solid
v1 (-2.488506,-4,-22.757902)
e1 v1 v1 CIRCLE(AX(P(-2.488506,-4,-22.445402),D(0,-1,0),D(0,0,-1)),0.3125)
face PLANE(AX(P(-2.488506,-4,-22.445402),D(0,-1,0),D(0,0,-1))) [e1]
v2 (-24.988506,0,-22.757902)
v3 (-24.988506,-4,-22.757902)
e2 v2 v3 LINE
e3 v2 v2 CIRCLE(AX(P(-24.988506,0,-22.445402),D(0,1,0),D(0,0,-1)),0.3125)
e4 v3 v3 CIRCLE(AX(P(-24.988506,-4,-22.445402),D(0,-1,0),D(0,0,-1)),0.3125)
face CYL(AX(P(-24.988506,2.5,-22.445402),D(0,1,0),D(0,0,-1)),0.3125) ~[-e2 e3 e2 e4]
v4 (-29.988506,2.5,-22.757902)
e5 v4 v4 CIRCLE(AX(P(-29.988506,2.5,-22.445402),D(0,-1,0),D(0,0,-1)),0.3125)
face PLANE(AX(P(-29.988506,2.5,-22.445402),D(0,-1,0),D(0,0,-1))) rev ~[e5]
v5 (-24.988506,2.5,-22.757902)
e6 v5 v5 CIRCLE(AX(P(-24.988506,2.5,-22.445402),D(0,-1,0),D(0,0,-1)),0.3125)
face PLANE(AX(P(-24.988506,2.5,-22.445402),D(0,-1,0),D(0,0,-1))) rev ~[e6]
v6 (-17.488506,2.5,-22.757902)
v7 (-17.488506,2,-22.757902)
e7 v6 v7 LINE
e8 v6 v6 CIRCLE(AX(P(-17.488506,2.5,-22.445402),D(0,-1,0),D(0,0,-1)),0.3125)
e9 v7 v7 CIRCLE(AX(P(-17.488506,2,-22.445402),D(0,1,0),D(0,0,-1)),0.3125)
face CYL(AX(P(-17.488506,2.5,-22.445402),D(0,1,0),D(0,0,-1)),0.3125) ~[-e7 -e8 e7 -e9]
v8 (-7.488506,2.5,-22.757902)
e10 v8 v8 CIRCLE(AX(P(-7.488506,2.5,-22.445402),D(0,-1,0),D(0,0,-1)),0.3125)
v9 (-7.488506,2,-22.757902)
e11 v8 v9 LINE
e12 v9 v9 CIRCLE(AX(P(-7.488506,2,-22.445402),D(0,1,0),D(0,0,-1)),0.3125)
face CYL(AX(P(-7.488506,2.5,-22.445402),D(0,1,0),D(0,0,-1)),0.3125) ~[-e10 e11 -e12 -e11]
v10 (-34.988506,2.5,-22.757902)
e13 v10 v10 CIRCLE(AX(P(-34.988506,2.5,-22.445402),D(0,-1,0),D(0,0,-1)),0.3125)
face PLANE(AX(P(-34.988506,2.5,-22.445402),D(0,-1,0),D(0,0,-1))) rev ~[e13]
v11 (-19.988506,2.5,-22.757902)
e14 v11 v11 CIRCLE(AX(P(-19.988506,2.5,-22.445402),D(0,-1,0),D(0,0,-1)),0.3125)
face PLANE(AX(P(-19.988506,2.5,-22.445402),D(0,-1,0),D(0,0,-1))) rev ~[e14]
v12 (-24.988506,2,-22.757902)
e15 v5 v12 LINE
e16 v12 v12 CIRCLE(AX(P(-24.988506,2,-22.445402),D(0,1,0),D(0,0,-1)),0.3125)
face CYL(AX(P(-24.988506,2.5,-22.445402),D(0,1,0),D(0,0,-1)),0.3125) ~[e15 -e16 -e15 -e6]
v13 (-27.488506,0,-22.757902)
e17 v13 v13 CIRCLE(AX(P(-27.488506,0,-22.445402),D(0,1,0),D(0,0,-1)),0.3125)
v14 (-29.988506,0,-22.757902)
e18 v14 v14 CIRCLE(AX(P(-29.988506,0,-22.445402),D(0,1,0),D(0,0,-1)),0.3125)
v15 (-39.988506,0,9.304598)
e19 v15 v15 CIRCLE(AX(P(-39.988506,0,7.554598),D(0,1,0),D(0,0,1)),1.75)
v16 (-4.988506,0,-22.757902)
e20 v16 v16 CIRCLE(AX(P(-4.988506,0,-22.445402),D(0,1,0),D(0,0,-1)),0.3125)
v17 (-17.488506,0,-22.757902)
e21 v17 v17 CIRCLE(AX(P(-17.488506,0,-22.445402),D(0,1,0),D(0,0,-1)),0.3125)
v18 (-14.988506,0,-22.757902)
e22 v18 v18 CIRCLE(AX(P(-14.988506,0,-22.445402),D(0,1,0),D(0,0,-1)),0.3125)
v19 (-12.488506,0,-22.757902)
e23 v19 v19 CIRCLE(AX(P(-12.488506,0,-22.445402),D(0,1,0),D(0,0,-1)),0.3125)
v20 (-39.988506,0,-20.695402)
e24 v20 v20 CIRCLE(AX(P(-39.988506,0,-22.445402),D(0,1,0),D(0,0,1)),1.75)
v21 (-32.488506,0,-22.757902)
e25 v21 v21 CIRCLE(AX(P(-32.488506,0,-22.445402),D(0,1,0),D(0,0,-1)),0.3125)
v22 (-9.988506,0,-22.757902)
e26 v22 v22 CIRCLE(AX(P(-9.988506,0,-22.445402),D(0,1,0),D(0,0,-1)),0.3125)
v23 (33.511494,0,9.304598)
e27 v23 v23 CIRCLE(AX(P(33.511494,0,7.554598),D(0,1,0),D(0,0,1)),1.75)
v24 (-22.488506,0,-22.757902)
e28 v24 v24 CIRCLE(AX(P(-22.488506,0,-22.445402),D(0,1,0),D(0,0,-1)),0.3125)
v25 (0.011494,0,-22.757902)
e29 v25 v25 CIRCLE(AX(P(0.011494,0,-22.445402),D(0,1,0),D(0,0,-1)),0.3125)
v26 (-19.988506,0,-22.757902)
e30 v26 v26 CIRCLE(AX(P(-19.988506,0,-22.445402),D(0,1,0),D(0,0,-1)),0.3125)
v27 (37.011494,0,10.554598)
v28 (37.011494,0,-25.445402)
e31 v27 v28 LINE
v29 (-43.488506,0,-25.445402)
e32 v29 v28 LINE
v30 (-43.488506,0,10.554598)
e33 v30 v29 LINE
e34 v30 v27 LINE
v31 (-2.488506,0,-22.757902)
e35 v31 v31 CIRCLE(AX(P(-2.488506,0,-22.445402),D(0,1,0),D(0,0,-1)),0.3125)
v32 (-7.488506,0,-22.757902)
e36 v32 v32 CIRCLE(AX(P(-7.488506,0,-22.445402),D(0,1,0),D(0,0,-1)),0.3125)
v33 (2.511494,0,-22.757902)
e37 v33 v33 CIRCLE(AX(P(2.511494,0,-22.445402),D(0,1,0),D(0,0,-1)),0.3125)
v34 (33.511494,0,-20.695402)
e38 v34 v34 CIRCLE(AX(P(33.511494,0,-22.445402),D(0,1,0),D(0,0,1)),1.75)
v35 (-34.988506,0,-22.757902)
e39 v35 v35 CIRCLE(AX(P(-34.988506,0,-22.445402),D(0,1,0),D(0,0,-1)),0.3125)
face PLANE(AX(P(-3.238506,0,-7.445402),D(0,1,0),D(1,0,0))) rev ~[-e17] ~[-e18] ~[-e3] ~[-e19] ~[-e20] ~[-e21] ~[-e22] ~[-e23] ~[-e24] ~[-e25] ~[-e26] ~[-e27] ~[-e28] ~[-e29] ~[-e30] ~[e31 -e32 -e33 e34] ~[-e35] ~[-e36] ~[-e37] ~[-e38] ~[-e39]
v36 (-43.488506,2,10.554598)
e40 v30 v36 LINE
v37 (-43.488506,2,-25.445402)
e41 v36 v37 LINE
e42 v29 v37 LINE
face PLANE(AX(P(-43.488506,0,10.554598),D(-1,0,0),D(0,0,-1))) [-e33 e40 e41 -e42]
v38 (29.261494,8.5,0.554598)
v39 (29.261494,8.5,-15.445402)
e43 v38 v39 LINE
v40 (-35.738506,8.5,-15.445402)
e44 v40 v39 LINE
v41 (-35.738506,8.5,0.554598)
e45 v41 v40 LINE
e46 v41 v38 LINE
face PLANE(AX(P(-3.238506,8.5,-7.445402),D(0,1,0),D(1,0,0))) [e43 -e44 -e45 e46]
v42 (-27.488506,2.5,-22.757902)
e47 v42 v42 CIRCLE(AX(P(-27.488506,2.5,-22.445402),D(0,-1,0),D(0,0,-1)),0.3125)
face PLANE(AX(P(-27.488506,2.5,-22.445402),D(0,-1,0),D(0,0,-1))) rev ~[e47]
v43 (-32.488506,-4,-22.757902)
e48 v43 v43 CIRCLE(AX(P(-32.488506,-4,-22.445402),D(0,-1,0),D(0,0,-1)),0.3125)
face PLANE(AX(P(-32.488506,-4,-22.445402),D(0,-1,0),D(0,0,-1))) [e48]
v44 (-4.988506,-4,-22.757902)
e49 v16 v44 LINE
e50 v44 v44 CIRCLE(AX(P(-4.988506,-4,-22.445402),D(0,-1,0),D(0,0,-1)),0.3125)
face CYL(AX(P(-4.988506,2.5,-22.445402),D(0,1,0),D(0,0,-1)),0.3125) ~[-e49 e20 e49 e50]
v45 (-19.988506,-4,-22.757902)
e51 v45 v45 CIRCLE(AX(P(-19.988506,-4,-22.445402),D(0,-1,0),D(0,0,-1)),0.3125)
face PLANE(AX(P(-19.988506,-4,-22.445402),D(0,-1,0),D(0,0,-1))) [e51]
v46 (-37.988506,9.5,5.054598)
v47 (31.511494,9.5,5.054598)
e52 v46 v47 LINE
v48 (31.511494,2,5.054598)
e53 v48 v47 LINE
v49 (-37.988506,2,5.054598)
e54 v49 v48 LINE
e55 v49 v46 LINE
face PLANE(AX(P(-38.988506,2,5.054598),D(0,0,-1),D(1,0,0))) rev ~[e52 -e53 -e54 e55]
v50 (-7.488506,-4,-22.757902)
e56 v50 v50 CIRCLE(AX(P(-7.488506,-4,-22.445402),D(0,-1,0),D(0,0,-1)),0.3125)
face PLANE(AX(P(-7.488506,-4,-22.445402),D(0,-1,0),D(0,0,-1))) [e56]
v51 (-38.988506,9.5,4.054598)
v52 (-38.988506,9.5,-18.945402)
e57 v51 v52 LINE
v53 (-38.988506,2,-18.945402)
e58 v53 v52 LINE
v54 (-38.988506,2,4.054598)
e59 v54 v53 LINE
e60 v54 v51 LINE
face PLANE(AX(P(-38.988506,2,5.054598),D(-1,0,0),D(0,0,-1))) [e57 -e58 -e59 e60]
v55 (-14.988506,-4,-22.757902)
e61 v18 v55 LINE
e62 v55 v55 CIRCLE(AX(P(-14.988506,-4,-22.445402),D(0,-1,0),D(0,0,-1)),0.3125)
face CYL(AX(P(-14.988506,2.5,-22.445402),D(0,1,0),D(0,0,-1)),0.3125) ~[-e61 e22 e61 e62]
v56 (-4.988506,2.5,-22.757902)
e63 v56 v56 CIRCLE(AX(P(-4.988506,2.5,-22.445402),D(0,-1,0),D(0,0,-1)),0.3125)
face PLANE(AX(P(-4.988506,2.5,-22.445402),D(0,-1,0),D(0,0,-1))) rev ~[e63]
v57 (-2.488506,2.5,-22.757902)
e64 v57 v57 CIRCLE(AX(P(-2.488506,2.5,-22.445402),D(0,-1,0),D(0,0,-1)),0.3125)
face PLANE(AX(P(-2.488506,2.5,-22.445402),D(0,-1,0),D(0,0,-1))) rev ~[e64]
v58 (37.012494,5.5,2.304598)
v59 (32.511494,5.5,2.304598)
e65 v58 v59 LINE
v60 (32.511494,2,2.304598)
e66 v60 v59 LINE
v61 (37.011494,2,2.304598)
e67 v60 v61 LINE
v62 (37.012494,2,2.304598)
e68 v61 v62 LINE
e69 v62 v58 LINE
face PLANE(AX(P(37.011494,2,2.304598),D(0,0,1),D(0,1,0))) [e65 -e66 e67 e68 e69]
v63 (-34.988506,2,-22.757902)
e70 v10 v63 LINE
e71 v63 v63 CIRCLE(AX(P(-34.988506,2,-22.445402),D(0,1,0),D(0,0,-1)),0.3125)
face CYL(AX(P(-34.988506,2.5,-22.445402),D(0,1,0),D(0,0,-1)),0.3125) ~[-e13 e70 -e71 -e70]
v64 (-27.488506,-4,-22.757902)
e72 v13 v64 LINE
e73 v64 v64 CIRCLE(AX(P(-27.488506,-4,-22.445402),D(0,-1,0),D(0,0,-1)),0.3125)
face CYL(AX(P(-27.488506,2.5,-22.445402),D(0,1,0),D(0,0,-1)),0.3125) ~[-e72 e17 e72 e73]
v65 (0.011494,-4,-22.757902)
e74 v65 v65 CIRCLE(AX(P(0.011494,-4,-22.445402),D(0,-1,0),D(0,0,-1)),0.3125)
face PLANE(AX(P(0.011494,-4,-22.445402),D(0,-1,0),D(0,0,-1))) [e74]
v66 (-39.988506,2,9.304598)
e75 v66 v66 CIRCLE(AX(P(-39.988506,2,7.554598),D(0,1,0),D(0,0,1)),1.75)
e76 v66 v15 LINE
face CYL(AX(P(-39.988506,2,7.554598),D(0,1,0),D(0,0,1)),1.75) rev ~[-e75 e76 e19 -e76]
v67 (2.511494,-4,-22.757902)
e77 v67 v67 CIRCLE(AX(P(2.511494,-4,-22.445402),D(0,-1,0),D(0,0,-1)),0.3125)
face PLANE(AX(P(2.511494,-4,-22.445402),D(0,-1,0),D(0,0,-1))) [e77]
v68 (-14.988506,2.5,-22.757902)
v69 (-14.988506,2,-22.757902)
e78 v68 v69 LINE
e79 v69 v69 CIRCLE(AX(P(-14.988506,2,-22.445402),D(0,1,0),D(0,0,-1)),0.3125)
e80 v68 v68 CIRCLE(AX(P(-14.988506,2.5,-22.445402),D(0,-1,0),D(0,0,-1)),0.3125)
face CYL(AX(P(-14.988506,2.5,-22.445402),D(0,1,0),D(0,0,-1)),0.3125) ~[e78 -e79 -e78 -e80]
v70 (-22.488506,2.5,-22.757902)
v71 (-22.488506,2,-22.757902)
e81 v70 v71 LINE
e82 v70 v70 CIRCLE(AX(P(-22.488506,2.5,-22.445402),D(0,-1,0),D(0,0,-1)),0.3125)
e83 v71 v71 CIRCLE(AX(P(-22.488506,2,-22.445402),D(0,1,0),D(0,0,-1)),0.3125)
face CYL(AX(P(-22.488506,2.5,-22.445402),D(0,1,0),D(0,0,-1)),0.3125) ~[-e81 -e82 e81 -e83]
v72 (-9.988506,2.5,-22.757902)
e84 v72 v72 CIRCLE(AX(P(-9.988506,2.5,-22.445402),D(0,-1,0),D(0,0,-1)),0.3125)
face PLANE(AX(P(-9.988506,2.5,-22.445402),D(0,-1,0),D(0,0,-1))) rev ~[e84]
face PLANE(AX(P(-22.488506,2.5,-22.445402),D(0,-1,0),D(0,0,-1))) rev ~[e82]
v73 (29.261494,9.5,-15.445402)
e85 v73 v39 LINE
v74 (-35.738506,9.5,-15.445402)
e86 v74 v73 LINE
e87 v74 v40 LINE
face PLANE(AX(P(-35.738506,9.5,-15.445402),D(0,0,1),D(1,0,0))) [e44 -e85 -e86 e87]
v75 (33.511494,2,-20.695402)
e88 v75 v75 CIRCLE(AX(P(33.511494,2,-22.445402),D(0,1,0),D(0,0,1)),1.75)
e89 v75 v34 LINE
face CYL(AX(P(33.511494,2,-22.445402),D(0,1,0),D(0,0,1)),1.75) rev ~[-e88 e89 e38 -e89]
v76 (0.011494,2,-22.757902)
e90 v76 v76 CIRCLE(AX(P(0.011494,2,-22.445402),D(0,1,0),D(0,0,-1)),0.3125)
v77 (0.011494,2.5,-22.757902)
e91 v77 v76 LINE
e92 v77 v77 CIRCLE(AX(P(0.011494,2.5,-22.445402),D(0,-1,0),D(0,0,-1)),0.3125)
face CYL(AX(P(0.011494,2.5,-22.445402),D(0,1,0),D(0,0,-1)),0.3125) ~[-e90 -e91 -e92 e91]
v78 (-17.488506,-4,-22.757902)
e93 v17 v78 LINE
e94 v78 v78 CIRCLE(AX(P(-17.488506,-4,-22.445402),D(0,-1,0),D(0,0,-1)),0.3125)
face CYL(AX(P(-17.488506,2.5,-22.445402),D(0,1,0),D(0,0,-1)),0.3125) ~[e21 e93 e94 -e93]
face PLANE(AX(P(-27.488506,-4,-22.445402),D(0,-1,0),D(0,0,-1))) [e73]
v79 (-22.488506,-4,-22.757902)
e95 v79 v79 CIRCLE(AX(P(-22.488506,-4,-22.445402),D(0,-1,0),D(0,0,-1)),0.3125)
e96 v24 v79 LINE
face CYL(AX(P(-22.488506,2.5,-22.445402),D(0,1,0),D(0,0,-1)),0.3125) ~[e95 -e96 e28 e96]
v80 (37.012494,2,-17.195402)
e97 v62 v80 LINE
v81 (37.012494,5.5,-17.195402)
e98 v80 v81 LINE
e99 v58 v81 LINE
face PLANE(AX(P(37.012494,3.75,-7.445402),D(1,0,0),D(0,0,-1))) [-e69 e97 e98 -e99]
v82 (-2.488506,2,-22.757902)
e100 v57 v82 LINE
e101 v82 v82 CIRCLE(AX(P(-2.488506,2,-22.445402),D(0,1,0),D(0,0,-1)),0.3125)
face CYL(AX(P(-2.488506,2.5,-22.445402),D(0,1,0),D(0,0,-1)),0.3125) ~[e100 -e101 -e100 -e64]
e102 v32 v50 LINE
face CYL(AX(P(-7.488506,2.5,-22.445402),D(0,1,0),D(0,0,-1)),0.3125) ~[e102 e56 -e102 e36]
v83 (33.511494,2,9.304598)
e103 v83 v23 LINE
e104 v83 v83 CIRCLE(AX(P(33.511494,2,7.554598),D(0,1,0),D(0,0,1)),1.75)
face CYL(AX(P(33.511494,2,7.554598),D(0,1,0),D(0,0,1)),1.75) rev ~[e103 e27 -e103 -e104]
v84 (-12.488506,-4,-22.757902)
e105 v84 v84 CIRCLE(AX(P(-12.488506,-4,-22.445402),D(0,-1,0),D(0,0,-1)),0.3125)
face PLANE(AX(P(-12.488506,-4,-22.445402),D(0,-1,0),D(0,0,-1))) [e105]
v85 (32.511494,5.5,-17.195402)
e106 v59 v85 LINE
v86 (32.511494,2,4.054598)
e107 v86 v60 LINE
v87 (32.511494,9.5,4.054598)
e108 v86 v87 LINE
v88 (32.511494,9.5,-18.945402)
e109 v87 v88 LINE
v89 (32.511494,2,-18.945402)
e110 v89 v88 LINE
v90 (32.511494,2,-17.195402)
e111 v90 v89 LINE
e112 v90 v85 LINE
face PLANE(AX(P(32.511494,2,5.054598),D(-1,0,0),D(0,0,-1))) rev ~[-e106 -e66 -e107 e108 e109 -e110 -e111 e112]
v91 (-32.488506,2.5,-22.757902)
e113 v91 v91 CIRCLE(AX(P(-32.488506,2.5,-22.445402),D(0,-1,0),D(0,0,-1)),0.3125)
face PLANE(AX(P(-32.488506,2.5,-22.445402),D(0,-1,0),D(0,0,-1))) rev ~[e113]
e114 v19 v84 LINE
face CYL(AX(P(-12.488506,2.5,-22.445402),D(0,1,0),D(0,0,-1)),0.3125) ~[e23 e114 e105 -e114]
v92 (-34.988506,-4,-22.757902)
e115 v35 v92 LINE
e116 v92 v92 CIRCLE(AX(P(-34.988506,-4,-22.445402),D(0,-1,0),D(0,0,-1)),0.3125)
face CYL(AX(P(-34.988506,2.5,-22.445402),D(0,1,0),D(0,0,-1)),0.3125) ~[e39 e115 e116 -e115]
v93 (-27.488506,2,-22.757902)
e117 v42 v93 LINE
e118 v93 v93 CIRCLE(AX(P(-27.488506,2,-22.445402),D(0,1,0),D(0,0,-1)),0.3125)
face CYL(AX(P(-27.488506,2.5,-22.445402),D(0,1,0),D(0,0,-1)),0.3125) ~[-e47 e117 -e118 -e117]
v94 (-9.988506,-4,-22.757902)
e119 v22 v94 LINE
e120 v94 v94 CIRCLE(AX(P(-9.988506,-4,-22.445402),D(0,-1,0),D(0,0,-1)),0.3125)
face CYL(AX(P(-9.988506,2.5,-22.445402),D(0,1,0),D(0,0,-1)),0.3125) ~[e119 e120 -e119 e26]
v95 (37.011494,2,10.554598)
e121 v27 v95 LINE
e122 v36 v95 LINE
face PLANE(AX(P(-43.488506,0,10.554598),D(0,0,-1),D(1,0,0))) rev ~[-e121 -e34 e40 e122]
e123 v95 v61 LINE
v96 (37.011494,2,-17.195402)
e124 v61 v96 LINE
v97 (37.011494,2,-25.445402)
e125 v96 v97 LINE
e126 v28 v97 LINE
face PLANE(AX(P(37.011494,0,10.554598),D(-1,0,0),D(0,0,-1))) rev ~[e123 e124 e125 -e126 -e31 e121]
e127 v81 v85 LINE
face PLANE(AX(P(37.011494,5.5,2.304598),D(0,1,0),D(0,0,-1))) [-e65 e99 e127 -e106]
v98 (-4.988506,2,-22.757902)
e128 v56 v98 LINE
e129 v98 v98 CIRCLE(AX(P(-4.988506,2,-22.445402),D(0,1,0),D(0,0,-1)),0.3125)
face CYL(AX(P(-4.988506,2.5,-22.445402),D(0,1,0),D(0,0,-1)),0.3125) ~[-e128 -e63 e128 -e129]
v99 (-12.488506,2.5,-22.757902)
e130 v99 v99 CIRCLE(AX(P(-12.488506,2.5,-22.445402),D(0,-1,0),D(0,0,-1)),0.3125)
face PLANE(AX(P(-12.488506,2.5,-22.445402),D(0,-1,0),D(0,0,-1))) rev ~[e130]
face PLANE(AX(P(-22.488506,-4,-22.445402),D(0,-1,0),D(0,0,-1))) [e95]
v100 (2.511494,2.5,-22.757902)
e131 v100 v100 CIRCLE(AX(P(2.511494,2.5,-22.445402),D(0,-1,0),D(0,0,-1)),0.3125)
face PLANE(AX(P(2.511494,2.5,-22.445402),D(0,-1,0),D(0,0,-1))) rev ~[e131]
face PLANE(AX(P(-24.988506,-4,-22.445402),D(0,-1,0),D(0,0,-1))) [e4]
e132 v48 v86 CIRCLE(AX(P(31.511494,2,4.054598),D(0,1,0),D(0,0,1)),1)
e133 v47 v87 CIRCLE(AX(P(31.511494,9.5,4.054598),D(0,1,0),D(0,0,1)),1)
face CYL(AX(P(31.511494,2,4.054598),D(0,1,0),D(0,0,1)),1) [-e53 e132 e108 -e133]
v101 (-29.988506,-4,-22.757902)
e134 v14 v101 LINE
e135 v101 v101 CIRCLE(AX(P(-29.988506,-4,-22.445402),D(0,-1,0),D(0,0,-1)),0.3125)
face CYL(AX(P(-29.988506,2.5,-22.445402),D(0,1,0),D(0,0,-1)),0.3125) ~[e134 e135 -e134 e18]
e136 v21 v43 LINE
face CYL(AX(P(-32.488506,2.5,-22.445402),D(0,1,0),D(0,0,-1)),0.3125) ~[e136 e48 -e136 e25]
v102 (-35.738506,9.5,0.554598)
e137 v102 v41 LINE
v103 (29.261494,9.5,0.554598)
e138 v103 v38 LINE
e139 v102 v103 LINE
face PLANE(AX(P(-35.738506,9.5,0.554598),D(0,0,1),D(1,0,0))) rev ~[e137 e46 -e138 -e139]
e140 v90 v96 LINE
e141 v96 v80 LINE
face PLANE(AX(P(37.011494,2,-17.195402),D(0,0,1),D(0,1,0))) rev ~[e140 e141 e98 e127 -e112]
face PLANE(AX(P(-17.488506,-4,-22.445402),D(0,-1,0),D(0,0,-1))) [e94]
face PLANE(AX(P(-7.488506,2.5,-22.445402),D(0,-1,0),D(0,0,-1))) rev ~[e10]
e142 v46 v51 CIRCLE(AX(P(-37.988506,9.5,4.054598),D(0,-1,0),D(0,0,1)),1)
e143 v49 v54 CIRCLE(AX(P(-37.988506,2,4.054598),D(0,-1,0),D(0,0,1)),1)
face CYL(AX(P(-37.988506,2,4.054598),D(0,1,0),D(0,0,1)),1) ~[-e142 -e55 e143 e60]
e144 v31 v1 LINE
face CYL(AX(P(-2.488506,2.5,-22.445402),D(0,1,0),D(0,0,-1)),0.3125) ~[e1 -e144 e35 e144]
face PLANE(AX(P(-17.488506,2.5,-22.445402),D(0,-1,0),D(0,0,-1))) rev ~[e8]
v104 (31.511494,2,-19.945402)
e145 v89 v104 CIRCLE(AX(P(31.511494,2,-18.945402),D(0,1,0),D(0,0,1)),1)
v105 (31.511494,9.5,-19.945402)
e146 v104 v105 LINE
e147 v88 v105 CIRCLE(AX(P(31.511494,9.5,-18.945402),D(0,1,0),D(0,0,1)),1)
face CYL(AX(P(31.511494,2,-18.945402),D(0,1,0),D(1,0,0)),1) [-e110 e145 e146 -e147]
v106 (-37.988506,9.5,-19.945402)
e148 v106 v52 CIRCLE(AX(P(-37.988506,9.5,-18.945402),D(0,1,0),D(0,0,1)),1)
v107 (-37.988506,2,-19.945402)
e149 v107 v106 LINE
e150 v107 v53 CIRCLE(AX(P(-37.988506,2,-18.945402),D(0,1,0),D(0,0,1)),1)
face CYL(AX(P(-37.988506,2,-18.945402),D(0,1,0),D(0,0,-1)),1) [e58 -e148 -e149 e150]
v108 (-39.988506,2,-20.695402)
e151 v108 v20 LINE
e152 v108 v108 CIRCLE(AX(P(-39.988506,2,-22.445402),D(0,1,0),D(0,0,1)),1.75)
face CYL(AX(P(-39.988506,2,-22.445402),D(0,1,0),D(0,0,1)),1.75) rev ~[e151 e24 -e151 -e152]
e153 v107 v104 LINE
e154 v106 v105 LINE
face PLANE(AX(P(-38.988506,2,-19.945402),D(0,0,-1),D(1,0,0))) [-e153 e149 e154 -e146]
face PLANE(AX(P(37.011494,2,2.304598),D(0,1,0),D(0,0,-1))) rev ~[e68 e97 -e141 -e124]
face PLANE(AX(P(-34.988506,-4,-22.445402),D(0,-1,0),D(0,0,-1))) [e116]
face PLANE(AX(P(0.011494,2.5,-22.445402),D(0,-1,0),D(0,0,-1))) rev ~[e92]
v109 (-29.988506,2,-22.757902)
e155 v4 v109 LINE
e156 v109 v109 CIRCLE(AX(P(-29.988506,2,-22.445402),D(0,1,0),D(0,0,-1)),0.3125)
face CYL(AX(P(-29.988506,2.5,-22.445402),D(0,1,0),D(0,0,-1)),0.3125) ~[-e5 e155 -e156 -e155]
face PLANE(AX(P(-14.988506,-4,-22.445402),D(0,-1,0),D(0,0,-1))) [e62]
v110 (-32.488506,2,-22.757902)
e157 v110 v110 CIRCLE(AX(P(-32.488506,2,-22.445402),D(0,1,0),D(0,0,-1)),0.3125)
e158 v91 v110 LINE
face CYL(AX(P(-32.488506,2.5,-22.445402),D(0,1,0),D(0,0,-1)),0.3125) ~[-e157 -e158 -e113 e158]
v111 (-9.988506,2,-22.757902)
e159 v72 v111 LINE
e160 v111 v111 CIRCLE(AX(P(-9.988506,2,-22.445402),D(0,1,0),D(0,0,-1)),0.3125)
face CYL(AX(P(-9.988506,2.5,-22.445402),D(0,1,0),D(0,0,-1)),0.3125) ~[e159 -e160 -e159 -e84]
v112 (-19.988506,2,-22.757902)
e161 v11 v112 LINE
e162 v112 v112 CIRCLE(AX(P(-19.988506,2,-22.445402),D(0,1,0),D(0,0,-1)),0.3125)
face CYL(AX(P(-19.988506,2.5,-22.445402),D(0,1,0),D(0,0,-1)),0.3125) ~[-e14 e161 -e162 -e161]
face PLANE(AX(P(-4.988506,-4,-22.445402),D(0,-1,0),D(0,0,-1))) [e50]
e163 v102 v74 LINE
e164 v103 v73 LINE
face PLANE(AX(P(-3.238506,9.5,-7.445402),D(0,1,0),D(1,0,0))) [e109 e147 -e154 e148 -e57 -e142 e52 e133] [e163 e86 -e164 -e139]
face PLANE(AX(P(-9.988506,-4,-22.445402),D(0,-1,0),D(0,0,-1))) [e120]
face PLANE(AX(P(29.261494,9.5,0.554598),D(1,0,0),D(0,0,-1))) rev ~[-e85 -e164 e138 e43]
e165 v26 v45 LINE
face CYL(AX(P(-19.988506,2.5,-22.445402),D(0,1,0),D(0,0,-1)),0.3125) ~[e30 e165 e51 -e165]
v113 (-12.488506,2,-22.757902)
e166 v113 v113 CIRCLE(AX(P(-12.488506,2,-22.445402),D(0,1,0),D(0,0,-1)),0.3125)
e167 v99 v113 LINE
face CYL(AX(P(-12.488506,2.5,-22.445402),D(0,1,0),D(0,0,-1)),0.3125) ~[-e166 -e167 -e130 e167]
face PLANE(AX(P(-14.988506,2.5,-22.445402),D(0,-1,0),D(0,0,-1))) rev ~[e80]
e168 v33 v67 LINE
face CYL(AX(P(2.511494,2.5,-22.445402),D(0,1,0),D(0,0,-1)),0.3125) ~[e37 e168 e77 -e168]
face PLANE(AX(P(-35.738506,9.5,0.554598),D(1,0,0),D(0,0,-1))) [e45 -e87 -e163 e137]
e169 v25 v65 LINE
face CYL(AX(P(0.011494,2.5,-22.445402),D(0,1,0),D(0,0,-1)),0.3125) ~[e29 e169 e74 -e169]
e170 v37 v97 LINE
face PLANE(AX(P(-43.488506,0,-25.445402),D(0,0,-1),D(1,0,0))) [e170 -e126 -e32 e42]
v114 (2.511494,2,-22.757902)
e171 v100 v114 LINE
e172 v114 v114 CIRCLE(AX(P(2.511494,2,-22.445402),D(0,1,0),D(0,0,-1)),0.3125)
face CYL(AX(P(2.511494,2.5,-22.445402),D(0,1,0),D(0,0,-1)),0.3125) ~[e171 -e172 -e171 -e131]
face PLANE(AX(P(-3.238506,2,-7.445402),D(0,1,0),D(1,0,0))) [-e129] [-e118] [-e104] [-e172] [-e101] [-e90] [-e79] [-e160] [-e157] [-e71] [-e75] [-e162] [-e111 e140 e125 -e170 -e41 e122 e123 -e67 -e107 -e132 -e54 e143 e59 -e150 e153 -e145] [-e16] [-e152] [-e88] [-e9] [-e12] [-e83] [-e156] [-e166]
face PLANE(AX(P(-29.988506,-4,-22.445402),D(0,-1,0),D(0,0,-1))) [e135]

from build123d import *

# Parameters (mm, degrees)
SKETCH1_W                = 80.5
SKETCH1_H                = 36
BOSS_EXTRUDE1_DEPTH      = 2
SKETCH2_R                = 1.75
CUT_EXTRUDE1_DEPTH       = 2
SKETCH3_W                = 71.5
SKETCH3_H                = 25
BOSS_EXTRUDE2_DEPTH      = 7.5
SKETCH4_W                = 65
SKETCH4_H                = 16
CUT_EXTRUDE2_DEPTH       = 1
FILLET1_R                = 1
SKETCH5_W                = 4.5
SKETCH5_H                = 19.5
BOSS_EXTRUDE3_DEPTH      = 3.5
SKETCH6_W                = 19.5
SKETCH6_H                = 3.5
BOSS_EXTRUDE4_DEPTH      = 0.001
BOSS_EXTRUDE5_DEPTH      = 4
BOSS_EXTRUDE5_DEPTH_BACK = 2.5
SKETCH7_R                = 0.3125


with BuildPart() as part:
    # Sketch1 → Boss-Extrude1 (new body)
    with BuildSketch(Plane(origin=(0, 0, 0), x_dir=(1, 0, 0), z_dir=(0, 1, 0))):
        with Locations((-3.238505747, 7.445402299)):
            Rectangle(SKETCH1_W, SKETCH1_H)
    extrude(amount=BOSS_EXTRUDE1_DEPTH)

    # Sketch2 → Cut-Extrude1 (cut)
    with BuildSketch(Plane(origin=(0, 2, 0), x_dir=(1, 0, 0), z_dir=(0, 1, 0))):
        with Locations(Location((-39.988505747, 22.445402299, 0), (0, 0, 270))):
            Circle(SKETCH2_R)
        with Locations(Location((33.511494253, 22.445402299, 0), (0, 0, 270))):
            Circle(SKETCH2_R)
        with Locations(Location((33.511494253, -7.554597701, 0), (0, 0, 270))):
            Circle(SKETCH2_R)
        with Locations(Location((-39.988505747, -7.554597701, 0), (0, 0, 270))):
            Circle(SKETCH2_R)
    extrude(amount=-CUT_EXTRUDE1_DEPTH, mode=Mode.SUBTRACT)

    # Sketch3 → Boss-Extrude2 (add)
    with BuildSketch(Plane(origin=(0, 2, 0), x_dir=(1, 0, 0), z_dir=(0, 1, 0))):
        with Locations((-3.238505747, 7.445402299)):
            Rectangle(SKETCH3_W, SKETCH3_H)
    extrude(amount=BOSS_EXTRUDE2_DEPTH)

    # Sketch4 → Cut-Extrude2 (cut)
    with BuildSketch(Plane(origin=(0, 9.5, 0), x_dir=(1, 0, 0), z_dir=(0, 1, 0))):
        with Locations((-3.238505747, 7.445402299)):
            Rectangle(SKETCH4_W, SKETCH4_H)
    extrude(amount=-CUT_EXTRUDE2_DEPTH, mode=Mode.SUBTRACT)

    # Fillet1
    fillet1_edges = [part.edges().sort_by_distance(p)[0] for p in [
        (-38.988505747, 5.75, -19.945402299),
        (-38.988505747, 5.75, 5.054597701),
        (32.511494253, 5.75, 5.054597701),
        (32.511494253, 5.75, -19.945402299),
    ]]
    fillet(fillet1_edges, radius=FILLET1_R)

    # Sketch5 → Boss-Extrude3 (add)
    with BuildSketch(Plane(origin=(0, 2, 0), x_dir=(1, 0, 0), z_dir=(0, 1, 0))):
        with Locations((34.761494253, 7.445402299)):
            Rectangle(SKETCH5_W, SKETCH5_H)
    extrude(amount=BOSS_EXTRUDE3_DEPTH)

    # Sketch6 → Boss-Extrude4 (add)
    with BuildSketch(Plane(origin=(37.011494253, 0, 0), x_dir=(0, 0, -1), z_dir=(1, 0, 0))):
        with Locations((7.445402299, 3.75)):
            Rectangle(SKETCH6_W, SKETCH6_H)
    extrude(amount=BOSS_EXTRUDE4_DEPTH)

    # Sketch7 → Boss-Extrude5 (add, two sides: drawn at the far end of the back side and taken through both)
    with BuildSketch(Plane(origin=(0, 0, 0), x_dir=(-1, 0, 0), z_dir=(0, -1, 0)).offset(-BOSS_EXTRUDE5_DEPTH_BACK)):
        with Locations(Location((34.988505747, 22.445402299, 0), (0, 0, 90))):
            Circle(SKETCH7_R)
        with Locations(Location((32.488505747, 22.445402299, 0), (0, 0, 90))):
            Circle(SKETCH7_R)
        with Locations(Location((29.988505747, 22.445402299, 0), (0, 0, 90))):
            Circle(SKETCH7_R)
        with Locations(Location((27.488505747, 22.445402299, 0), (0, 0, 90))):
            Circle(SKETCH7_R)
        with Locations(Location((24.988505747, 22.445402299, 0), (0, 0, 90))):
            Circle(SKETCH7_R)
        with Locations(Location((22.488505747, 22.445402299, 0), (0, 0, 90))):
            Circle(SKETCH7_R)
        with Locations(Location((19.988505747, 22.445402299, 0), (0, 0, 90))):
            Circle(SKETCH7_R)
        with Locations(Location((17.488505747, 22.445402299, 0), (0, 0, 90))):
            Circle(SKETCH7_R)
        with Locations(Location((14.988505747, 22.445402299, 0), (0, 0, 90))):
            Circle(SKETCH7_R)
        with Locations(Location((12.488505747, 22.445402299, 0), (0, 0, 90))):
            Circle(SKETCH7_R)
        with Locations(Location((9.988505747, 22.445402299, 0), (0, 0, 90))):
            Circle(SKETCH7_R)
        with Locations(Location((7.488505747, 22.445402299, 0), (0, 0, 90))):
            Circle(SKETCH7_R)
        with Locations(Location((4.988505747, 22.445402299, 0), (0, 0, 90))):
            Circle(SKETCH7_R)
        with Locations(Location((2.488505747, 22.445402299, 0), (0, 0, 90))):
            Circle(SKETCH7_R)
        with Locations(Location((-0.011494253, 22.445402299, 0), (0, 0, 90))):
            Circle(SKETCH7_R)
        with Locations(Location((-2.511494253, 22.445402299, 0), (0, 0, 90))):
            Circle(SKETCH7_R)
    extrude(amount=BOSS_EXTRUDE5_DEPTH + BOSS_EXTRUDE5_DEPTH_BACK)


solid = part.part
